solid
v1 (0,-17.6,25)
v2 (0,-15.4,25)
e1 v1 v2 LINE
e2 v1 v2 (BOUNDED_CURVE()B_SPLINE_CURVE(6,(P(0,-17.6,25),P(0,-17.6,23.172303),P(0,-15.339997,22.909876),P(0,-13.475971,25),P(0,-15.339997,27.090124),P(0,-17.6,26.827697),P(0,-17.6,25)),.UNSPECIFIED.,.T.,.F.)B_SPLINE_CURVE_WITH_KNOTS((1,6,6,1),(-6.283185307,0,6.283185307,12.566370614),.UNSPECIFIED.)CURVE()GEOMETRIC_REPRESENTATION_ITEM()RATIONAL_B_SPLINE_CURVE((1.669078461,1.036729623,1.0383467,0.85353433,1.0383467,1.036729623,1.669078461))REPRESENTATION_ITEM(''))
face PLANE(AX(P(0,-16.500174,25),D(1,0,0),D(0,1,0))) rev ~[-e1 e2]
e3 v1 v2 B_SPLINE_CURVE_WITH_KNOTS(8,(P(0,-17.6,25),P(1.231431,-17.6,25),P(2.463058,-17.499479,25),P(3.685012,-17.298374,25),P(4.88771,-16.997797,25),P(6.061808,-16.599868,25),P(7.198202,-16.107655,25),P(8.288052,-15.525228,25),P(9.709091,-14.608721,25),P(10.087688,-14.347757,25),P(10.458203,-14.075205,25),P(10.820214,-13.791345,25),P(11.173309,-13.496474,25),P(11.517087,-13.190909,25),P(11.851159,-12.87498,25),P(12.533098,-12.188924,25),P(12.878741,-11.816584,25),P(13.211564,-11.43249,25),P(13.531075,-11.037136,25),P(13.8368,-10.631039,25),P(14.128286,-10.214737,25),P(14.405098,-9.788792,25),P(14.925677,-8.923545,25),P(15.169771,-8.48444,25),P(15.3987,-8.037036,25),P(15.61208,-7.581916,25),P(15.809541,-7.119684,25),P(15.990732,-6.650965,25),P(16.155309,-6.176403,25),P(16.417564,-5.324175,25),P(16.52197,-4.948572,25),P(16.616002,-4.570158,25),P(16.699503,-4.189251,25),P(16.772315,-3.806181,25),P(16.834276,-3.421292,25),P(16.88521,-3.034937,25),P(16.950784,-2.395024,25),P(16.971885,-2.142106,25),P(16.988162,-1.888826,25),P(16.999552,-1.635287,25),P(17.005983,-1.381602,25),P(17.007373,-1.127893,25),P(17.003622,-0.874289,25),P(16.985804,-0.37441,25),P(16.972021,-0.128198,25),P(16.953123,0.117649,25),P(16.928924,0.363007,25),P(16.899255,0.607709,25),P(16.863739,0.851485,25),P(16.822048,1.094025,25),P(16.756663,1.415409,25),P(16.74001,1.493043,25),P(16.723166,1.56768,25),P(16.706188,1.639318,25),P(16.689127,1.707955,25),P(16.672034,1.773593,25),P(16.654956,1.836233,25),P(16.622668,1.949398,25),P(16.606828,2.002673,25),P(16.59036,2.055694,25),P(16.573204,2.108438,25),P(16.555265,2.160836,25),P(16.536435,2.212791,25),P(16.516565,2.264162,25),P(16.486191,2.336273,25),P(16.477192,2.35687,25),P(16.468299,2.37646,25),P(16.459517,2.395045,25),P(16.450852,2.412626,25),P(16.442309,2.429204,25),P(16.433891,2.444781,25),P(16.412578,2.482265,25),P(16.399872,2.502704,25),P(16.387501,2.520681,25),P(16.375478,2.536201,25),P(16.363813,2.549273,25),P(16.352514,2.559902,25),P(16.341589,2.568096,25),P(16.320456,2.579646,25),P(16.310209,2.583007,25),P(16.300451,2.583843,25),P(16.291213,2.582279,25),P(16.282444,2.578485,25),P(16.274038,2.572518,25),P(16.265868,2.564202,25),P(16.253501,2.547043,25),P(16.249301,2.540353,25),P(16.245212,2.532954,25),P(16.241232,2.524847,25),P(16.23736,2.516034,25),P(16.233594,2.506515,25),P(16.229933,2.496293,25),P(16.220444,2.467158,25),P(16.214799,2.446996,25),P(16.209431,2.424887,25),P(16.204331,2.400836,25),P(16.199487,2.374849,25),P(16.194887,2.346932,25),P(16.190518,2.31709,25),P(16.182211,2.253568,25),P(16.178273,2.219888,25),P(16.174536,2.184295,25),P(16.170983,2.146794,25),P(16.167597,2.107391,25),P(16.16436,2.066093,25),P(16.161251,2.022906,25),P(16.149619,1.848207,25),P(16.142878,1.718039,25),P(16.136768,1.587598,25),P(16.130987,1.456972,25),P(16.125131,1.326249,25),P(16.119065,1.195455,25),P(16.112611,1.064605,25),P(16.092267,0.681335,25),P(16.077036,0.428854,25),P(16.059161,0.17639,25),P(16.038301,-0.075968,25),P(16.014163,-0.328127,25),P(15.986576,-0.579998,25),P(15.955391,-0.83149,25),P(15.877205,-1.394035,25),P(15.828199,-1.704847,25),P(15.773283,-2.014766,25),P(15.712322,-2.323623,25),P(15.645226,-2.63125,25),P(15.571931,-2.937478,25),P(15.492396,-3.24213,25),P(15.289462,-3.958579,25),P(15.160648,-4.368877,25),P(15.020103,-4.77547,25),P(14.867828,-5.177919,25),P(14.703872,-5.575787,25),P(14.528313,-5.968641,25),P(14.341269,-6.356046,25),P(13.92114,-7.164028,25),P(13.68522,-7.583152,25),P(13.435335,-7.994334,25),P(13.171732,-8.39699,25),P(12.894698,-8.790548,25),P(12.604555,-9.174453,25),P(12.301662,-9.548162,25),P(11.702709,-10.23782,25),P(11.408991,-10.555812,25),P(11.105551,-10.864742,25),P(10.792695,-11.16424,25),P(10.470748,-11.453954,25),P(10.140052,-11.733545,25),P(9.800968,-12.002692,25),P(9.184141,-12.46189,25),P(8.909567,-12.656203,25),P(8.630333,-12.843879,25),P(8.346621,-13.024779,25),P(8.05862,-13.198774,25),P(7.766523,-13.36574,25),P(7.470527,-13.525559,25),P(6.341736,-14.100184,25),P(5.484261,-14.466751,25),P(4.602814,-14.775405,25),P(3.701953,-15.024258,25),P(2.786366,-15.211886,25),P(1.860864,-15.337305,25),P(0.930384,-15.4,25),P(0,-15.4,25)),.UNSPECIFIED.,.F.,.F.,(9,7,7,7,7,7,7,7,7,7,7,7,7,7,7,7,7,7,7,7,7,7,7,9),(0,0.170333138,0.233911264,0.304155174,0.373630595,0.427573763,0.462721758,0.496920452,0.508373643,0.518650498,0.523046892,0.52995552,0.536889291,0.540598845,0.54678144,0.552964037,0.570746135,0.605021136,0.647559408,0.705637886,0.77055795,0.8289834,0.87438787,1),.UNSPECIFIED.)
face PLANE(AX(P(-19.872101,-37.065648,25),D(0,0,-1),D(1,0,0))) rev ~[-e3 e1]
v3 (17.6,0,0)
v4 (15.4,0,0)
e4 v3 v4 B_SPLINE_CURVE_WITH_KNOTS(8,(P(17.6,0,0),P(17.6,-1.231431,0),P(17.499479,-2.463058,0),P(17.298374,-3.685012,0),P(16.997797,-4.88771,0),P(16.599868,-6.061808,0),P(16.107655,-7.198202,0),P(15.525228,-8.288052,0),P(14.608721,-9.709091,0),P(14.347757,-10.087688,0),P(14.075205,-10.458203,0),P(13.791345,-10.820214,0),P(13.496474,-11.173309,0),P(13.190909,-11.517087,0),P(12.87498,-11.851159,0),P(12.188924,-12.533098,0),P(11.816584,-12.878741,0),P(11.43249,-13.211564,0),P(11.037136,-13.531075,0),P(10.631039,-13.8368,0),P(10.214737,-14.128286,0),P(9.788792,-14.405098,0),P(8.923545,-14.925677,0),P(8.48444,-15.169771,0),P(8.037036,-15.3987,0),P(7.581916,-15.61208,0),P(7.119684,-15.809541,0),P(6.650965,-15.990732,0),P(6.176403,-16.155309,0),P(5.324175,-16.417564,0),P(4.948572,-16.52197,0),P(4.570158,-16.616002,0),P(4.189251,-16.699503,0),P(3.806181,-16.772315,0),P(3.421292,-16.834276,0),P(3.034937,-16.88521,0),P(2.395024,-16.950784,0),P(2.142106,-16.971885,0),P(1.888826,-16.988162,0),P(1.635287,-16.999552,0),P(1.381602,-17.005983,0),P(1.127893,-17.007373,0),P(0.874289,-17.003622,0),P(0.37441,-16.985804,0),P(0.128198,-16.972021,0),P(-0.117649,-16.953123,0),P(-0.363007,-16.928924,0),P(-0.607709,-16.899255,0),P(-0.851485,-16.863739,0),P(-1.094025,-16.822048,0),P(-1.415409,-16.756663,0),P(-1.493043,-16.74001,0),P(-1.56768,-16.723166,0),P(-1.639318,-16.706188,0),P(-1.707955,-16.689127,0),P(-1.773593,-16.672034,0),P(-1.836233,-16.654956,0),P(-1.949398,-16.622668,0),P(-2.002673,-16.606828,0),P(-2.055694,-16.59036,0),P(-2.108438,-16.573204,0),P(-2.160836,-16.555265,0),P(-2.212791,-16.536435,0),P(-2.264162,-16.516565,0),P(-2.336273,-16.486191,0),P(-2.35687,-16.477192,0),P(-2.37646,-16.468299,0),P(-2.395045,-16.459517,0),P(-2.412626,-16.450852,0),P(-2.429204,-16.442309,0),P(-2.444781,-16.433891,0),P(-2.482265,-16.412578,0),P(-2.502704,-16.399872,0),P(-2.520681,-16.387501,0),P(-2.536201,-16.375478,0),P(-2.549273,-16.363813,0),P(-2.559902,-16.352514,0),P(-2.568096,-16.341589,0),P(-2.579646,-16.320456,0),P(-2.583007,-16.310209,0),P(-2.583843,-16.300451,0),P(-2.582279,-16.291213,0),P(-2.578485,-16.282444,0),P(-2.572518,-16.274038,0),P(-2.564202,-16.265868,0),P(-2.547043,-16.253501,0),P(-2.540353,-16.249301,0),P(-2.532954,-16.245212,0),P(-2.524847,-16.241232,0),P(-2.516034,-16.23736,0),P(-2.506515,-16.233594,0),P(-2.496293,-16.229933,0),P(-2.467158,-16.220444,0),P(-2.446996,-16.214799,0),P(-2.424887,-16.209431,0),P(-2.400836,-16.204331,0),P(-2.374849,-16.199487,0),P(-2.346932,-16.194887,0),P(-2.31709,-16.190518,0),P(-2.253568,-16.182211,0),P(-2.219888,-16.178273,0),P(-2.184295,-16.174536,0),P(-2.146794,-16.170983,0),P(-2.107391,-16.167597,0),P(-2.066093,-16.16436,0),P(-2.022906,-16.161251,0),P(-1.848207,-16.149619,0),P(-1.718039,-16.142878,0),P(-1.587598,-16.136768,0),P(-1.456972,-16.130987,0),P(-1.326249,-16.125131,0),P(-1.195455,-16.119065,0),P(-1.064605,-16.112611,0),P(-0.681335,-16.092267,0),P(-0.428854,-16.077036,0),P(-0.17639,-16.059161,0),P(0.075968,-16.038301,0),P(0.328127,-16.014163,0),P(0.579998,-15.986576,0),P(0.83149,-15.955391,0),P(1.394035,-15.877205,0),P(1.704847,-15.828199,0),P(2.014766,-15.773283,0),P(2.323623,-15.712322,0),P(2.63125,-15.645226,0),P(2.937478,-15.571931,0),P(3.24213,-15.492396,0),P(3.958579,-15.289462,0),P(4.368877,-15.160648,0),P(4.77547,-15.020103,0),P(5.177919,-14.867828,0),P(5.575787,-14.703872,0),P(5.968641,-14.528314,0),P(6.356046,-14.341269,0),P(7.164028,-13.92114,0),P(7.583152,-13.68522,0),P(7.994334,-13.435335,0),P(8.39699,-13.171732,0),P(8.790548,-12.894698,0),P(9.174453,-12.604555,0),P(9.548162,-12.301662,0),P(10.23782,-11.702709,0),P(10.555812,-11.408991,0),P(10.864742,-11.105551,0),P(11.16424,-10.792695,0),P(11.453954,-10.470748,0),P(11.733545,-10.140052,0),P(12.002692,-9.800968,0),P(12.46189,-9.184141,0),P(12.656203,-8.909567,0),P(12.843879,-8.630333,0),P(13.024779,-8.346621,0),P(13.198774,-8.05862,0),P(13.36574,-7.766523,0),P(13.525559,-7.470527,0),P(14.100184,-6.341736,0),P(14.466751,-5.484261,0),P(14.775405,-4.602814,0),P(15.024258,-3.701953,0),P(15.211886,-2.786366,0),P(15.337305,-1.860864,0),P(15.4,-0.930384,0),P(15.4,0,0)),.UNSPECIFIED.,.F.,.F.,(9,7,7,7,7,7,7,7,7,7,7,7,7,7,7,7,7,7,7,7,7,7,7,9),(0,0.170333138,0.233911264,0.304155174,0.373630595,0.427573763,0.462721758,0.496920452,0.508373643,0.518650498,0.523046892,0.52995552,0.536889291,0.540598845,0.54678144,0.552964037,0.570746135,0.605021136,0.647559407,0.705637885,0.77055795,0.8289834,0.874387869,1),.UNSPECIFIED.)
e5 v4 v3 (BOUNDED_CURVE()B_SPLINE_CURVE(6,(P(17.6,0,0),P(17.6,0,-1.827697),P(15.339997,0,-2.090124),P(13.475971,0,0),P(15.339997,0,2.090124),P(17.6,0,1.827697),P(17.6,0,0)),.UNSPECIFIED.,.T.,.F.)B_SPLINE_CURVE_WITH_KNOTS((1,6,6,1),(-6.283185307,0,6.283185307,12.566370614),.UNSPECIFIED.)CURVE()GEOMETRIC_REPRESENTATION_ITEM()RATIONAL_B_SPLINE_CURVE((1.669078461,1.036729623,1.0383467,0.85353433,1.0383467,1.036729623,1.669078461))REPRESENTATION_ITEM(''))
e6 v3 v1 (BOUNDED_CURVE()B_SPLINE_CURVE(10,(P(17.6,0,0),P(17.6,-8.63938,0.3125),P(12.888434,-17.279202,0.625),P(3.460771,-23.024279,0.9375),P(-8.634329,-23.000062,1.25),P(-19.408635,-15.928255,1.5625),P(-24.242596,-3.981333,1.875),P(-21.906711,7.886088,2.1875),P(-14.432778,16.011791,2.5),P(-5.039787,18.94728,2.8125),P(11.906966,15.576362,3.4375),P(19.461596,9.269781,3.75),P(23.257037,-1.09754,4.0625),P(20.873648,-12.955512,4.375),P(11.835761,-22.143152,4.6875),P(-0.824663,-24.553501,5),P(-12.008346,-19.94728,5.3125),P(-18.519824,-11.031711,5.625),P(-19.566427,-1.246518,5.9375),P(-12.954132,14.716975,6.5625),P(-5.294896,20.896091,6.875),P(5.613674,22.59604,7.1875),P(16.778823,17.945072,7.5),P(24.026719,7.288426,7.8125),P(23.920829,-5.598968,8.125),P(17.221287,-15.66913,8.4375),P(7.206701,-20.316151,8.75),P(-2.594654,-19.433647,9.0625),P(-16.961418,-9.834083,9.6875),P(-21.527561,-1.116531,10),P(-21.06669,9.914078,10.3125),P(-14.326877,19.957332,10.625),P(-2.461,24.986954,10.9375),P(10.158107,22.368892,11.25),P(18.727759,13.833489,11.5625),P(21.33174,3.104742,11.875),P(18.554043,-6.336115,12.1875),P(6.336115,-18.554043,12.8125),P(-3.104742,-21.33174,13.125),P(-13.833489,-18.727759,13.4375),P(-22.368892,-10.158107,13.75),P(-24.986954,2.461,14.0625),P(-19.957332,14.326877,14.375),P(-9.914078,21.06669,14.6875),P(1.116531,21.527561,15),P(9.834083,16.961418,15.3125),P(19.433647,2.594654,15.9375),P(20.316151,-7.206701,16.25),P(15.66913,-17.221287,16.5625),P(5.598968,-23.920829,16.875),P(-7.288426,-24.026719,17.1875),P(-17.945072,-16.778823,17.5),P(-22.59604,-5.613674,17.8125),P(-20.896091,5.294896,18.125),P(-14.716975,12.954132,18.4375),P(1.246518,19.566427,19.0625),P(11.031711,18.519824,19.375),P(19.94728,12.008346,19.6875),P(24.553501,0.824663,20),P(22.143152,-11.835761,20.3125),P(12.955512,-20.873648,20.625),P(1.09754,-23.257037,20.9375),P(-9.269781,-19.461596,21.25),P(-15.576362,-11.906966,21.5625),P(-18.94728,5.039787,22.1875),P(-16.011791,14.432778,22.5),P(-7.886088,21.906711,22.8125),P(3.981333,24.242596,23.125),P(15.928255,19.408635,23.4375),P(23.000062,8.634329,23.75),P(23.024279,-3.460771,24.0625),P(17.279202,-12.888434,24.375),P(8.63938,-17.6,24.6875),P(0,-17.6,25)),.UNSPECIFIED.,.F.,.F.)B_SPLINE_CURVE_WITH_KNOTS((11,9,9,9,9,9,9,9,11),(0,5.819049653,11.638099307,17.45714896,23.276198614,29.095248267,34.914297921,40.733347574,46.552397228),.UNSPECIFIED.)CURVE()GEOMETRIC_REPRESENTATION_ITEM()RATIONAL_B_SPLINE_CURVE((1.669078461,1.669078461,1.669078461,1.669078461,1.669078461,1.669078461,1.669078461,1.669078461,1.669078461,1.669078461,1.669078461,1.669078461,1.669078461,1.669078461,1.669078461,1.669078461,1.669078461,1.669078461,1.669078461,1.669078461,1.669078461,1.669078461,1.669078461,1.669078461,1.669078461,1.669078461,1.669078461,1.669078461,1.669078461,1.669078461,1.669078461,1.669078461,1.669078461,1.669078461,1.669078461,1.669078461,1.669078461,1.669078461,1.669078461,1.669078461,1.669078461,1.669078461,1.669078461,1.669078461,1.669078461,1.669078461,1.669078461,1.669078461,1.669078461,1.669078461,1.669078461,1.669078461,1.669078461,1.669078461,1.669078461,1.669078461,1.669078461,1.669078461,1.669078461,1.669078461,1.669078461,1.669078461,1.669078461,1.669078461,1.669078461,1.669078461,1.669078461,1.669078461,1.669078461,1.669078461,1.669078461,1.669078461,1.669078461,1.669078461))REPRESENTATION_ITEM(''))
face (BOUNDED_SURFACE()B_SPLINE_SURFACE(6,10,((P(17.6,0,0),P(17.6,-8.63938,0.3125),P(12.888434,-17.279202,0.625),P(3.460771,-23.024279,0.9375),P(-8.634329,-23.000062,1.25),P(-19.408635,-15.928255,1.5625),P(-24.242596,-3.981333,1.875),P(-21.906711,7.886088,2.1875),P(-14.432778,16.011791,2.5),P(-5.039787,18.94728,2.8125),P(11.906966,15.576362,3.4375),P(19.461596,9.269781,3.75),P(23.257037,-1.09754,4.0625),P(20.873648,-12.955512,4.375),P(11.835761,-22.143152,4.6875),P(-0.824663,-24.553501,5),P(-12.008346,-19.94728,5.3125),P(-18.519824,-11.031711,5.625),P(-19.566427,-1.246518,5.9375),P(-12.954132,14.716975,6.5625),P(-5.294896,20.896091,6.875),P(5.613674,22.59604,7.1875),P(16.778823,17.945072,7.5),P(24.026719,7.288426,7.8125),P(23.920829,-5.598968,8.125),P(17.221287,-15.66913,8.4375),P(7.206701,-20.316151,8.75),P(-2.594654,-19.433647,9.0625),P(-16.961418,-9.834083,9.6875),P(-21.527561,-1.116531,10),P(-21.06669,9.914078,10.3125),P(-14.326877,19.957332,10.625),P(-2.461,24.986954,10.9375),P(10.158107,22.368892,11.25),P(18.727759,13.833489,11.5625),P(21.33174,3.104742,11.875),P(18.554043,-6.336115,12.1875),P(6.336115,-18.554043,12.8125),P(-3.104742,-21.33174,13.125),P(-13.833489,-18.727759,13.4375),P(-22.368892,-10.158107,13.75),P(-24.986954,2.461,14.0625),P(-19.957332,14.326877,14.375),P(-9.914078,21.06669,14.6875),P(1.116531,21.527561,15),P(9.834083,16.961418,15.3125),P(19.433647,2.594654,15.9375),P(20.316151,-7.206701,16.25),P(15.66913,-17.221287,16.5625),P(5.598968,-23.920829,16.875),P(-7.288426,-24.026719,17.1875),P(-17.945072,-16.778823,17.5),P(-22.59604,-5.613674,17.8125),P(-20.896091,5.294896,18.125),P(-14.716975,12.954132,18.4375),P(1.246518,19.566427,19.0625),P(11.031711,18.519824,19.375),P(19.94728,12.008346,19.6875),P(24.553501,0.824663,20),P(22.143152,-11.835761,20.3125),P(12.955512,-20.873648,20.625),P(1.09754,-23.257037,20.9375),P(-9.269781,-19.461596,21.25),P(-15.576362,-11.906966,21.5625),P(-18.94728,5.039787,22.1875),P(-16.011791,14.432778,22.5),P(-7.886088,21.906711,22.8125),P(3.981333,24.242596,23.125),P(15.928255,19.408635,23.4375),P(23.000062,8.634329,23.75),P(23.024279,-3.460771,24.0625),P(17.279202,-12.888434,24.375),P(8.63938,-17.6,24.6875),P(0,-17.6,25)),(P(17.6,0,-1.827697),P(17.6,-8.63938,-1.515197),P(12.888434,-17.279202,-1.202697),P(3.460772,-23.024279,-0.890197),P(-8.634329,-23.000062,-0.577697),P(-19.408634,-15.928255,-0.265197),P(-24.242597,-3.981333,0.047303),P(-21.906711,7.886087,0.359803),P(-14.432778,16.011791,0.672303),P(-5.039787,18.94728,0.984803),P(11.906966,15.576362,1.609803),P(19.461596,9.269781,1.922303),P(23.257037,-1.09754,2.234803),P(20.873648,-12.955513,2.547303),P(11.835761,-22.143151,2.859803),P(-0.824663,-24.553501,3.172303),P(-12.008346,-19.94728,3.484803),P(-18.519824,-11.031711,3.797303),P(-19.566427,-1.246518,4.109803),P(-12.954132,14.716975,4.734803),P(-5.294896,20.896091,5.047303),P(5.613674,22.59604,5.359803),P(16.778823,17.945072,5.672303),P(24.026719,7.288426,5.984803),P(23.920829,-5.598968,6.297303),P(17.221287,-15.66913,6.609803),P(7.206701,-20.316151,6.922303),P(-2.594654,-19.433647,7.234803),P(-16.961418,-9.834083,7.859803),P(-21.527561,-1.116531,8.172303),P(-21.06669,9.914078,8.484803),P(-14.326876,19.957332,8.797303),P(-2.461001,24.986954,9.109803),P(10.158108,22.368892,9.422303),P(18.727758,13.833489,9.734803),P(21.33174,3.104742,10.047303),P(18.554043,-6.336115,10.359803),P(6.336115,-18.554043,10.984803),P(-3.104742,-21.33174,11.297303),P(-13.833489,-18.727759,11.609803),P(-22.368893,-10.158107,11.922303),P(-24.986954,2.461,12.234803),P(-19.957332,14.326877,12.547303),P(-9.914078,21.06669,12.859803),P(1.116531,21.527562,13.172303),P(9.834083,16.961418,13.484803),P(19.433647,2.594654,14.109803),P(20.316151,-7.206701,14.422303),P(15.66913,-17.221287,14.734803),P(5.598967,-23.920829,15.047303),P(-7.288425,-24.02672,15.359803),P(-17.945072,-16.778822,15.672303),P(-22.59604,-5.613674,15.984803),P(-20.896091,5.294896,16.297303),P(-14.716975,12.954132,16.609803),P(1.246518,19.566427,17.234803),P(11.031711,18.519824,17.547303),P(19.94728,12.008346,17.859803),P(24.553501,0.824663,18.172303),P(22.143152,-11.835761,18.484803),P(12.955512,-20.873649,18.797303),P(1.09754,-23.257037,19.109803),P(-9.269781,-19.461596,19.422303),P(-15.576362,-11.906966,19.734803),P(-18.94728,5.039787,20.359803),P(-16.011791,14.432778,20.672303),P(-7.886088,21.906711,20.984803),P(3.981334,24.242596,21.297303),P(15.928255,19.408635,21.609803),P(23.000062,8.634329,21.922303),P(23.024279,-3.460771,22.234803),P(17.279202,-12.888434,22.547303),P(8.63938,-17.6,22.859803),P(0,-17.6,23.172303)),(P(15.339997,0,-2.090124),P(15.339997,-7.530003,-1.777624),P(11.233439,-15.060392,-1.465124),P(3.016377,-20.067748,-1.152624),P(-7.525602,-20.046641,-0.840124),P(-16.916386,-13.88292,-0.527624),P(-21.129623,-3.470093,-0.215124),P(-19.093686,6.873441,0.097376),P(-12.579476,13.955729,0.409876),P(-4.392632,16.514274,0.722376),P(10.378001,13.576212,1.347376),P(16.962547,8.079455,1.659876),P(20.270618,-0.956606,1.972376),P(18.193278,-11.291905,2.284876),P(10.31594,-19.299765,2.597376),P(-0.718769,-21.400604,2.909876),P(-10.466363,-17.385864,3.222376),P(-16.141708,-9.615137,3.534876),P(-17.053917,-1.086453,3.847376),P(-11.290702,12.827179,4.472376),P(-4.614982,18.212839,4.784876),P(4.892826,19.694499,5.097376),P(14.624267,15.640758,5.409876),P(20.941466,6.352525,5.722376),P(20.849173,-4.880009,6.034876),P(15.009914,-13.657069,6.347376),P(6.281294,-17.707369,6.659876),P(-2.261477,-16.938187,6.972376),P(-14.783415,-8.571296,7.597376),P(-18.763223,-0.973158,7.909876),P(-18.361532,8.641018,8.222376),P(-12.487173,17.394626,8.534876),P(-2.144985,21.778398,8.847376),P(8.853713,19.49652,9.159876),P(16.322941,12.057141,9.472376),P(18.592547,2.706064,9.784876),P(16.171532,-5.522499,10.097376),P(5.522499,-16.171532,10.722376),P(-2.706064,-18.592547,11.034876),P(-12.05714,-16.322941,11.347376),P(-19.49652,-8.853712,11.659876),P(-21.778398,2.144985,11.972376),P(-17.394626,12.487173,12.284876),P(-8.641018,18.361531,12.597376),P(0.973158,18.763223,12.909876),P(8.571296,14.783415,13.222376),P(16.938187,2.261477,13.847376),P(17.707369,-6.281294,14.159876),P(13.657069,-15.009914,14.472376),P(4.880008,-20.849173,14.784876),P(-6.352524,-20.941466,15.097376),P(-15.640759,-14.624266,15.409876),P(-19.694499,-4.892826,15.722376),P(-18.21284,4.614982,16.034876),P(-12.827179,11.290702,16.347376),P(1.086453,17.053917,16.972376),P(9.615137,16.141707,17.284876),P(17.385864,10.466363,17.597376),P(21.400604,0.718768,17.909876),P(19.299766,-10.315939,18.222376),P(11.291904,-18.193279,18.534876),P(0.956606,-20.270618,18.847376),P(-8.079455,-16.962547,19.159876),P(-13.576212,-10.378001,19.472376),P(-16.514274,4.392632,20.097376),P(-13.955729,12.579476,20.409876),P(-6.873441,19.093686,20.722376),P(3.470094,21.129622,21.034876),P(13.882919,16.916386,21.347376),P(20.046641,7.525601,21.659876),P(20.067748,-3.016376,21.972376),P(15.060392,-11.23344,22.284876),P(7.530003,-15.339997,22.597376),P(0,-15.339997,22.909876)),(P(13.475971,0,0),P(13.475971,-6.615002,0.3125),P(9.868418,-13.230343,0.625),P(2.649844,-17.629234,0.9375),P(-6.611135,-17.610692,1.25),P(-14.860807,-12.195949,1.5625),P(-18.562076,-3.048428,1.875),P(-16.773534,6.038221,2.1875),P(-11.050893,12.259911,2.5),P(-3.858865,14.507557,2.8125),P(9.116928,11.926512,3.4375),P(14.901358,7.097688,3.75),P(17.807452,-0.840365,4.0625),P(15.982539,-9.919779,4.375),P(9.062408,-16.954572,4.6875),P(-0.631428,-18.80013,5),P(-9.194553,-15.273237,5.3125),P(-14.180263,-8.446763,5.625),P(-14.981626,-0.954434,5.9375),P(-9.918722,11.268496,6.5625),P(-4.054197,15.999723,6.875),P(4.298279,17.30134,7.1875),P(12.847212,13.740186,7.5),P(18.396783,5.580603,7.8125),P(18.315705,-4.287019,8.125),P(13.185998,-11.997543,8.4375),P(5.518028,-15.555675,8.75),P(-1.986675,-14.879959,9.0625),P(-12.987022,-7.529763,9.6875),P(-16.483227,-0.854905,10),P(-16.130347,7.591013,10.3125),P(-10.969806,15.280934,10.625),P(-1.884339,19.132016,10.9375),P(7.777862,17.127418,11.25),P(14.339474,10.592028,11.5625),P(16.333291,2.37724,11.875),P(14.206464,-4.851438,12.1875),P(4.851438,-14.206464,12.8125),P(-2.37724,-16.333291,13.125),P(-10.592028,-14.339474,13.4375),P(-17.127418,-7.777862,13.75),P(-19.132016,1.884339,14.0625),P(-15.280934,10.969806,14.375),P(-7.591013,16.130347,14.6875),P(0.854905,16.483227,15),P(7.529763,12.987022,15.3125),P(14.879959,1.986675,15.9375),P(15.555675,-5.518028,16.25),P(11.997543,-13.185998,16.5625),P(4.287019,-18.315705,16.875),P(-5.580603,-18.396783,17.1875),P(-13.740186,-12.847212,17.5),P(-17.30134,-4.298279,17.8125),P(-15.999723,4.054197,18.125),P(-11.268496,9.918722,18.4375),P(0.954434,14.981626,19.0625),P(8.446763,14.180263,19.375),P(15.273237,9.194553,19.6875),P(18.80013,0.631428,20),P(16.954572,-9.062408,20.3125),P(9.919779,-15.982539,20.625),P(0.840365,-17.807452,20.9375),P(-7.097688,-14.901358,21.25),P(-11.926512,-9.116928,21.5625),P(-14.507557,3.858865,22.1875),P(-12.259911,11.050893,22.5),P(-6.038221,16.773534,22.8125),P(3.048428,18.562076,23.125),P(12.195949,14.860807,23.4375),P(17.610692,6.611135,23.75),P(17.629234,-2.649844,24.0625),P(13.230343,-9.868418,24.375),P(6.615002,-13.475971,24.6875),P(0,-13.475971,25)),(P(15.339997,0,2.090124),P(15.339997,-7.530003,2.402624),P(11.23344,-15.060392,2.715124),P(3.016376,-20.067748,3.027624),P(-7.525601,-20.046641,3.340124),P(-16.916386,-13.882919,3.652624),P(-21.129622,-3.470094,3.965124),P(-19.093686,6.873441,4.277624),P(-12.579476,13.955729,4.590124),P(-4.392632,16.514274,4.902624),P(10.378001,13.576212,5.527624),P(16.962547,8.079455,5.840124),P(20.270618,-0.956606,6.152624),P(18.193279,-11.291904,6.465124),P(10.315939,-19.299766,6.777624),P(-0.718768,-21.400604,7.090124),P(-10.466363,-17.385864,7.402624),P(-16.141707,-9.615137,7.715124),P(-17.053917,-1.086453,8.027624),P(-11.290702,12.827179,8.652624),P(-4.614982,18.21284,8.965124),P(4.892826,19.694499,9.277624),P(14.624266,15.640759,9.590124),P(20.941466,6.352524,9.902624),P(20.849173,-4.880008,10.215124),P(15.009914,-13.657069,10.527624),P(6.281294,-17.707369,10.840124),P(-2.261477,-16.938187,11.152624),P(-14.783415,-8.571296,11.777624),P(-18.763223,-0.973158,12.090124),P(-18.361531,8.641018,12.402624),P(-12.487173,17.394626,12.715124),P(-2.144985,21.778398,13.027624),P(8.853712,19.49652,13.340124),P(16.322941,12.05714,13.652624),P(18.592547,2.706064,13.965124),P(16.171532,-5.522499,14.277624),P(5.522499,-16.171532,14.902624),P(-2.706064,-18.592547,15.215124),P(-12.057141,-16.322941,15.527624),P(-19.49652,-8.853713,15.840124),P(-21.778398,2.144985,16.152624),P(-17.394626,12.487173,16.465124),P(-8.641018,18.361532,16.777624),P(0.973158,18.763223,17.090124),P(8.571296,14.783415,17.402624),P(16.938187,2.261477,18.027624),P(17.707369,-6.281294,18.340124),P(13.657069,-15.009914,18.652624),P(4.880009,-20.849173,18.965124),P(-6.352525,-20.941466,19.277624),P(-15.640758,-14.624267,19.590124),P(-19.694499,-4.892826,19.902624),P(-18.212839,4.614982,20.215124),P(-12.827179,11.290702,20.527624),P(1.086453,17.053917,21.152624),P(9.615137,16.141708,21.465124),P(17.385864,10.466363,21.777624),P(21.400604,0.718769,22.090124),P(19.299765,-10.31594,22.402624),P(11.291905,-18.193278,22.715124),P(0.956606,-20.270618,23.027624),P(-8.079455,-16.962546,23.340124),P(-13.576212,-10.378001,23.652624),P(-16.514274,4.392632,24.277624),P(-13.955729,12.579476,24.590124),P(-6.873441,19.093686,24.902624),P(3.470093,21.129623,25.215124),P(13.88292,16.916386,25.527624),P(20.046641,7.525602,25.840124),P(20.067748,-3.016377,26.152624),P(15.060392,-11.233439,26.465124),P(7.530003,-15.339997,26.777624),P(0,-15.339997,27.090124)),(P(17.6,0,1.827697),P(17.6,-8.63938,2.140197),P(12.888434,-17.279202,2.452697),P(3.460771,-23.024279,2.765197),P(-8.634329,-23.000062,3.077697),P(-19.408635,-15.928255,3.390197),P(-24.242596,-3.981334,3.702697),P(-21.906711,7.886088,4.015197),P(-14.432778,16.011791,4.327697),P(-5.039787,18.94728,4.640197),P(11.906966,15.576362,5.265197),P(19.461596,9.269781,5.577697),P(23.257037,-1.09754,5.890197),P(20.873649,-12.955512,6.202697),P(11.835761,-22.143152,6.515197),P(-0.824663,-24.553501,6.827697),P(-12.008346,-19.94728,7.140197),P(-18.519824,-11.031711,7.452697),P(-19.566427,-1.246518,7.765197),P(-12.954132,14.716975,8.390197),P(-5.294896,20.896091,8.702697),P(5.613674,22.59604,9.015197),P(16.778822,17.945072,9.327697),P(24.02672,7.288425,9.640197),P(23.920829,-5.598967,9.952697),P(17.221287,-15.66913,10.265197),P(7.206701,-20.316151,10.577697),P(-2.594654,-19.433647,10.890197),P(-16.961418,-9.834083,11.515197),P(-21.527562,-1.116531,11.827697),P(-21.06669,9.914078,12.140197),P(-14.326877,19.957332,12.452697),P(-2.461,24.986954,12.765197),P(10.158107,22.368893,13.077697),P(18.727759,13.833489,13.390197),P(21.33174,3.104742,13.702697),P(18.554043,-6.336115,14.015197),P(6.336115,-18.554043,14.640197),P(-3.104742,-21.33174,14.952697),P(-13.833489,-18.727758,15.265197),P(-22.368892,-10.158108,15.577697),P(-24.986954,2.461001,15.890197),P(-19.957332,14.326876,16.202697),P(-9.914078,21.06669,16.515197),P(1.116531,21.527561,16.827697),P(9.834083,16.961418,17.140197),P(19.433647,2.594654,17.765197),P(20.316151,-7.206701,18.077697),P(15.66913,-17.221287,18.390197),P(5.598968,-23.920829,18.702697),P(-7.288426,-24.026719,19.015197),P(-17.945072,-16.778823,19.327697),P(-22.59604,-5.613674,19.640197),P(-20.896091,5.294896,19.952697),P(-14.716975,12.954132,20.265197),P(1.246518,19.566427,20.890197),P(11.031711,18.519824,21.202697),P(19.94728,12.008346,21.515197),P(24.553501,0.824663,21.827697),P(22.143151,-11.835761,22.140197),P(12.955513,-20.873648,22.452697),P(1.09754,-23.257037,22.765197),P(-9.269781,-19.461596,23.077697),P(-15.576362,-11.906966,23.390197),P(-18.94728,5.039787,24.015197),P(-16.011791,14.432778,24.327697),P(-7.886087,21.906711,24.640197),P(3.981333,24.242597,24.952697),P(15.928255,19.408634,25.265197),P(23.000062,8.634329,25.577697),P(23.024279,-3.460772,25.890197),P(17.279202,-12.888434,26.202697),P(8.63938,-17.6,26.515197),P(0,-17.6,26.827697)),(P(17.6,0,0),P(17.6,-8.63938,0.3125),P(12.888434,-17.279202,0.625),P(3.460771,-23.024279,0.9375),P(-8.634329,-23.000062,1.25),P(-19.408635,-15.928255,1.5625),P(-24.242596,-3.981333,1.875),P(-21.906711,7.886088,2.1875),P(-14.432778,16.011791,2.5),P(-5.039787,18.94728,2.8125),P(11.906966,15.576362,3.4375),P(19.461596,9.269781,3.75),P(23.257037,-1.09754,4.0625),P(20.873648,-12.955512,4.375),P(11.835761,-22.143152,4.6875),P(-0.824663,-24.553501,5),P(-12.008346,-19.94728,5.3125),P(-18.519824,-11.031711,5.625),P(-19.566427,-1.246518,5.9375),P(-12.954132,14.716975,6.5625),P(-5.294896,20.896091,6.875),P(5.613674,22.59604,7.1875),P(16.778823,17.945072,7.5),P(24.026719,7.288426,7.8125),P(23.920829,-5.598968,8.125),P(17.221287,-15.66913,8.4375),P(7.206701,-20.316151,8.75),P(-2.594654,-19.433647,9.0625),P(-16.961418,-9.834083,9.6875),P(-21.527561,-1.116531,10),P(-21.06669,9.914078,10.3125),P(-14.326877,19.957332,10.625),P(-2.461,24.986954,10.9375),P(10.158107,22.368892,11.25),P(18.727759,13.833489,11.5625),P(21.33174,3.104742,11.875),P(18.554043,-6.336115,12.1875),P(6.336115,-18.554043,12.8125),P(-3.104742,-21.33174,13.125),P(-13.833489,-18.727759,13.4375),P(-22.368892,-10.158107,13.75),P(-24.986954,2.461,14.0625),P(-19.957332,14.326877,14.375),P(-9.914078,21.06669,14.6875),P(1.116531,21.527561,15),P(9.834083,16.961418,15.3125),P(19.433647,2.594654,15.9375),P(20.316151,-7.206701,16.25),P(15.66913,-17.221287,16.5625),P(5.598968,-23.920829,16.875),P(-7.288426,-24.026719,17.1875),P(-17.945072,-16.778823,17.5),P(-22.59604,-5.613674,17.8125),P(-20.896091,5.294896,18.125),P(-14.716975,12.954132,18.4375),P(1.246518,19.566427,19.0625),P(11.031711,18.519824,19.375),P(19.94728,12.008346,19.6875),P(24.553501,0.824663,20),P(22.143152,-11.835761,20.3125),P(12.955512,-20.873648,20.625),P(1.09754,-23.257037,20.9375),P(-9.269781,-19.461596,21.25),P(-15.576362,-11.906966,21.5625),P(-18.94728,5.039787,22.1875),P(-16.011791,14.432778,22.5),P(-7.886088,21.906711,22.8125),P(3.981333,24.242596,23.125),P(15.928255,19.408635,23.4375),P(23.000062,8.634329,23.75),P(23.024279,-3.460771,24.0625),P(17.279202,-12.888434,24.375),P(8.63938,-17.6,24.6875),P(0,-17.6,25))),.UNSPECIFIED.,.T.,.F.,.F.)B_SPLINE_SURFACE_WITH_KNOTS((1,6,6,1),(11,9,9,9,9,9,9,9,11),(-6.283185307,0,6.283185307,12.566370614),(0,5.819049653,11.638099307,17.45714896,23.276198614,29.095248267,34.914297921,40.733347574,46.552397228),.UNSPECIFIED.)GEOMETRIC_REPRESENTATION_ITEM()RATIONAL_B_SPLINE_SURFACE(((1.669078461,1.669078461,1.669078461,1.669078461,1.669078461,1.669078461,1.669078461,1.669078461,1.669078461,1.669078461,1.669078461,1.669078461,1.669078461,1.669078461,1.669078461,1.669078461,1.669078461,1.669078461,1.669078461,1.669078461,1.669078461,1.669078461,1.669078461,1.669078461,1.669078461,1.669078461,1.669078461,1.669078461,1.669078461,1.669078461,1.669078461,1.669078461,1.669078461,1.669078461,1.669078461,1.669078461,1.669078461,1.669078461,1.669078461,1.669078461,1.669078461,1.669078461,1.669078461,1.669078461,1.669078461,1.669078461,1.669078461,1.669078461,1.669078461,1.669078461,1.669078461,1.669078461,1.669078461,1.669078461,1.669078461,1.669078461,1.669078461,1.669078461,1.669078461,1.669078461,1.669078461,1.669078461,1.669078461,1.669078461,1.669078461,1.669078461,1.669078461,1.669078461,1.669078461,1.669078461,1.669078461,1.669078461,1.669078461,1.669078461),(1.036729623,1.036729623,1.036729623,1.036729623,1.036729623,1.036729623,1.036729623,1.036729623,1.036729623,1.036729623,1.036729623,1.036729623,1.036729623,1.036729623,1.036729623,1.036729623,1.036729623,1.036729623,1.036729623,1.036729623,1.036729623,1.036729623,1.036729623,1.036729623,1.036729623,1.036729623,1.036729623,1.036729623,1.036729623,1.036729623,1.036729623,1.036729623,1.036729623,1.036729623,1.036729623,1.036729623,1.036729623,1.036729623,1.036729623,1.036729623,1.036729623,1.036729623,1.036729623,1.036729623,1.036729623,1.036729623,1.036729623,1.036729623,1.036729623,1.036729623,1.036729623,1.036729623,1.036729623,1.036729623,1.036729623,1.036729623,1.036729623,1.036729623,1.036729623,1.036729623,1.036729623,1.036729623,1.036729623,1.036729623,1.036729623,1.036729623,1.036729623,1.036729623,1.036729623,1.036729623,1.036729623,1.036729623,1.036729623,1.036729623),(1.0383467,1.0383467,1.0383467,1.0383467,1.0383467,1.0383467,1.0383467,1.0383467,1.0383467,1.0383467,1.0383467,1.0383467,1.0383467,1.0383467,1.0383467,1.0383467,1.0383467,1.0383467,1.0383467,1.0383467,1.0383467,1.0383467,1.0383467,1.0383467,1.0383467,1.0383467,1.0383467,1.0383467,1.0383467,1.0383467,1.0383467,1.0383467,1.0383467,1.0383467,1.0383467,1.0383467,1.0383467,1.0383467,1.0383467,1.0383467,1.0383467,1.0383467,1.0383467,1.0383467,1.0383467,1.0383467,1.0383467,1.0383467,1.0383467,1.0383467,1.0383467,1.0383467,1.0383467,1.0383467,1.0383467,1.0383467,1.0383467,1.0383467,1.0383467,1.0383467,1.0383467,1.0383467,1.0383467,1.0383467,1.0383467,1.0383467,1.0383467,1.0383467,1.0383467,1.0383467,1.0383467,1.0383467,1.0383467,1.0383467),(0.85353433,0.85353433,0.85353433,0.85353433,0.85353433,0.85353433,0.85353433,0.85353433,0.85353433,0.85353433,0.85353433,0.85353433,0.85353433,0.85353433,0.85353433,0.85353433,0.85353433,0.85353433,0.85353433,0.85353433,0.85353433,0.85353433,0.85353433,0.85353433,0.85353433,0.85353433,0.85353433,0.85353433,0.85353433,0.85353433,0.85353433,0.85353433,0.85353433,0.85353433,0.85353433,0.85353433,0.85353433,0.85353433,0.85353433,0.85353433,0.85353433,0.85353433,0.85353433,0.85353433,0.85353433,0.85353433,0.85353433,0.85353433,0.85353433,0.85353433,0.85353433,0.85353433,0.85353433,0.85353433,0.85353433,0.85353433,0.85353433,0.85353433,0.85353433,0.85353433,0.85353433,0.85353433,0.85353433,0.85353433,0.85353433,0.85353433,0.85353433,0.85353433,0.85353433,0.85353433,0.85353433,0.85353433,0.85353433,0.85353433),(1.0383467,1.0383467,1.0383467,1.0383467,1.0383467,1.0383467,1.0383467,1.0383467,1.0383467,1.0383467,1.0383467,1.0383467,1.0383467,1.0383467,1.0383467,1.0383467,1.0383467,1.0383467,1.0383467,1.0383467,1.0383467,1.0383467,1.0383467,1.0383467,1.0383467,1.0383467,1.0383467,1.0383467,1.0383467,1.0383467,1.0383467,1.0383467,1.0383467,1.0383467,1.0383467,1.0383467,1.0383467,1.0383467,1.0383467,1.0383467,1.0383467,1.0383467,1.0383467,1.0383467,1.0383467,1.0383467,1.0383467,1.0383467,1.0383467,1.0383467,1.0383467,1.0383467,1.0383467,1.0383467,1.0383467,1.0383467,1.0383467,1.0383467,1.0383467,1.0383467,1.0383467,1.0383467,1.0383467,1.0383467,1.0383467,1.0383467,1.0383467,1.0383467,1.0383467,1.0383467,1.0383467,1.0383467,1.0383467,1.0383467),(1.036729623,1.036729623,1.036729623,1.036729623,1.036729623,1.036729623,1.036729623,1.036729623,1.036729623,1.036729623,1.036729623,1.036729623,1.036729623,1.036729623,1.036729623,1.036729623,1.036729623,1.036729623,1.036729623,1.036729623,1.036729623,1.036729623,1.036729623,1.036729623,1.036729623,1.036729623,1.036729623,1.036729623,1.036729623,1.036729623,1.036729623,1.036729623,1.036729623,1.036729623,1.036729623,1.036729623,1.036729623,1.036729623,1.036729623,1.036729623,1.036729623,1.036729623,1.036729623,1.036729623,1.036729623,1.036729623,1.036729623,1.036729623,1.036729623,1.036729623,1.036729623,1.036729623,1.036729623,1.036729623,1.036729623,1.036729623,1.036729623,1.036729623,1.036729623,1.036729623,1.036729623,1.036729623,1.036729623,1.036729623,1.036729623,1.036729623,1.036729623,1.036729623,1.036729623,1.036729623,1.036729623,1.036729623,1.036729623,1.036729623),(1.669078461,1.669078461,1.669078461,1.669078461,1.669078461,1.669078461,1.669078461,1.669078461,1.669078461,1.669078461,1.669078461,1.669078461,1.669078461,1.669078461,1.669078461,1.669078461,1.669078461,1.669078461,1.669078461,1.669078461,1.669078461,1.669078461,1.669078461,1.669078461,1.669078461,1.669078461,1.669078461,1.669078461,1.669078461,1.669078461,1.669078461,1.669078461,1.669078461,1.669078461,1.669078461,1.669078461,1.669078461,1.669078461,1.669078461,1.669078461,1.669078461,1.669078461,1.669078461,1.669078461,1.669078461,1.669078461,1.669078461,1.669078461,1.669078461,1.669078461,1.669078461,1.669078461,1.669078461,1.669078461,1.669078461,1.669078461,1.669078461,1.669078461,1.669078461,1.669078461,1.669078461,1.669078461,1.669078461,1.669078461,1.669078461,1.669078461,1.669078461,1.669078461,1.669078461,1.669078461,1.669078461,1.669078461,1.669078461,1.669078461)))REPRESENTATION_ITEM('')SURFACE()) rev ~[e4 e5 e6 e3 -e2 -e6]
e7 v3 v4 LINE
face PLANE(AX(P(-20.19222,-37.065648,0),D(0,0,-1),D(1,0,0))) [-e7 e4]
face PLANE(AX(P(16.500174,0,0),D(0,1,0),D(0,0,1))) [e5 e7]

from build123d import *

# Parameters (mm, degrees)
SWEEP1_PITCH            = 4
SWEEP1_HEIGHT           = 25
SWEEP1_RADIUS           = 16.5
SKETCH2_R               = 1.1
CUT_EXTRUDE1_DEPTH      = 37.065647703
CUT_EXTRUDE1_DEPTH_BACK = 37.065647703
SKETCH3_W               = 43.987406561
SKETCH3_H               = 3.768960992
SKETCH3_W_2             = 42.086994639
SKETCH3_H_2             = 3.071981074


with BuildPart() as part:
    # Sweep1: sweep along a helix
    with BuildLine() as sweep1_path:
        Helix(SWEEP1_PITCH, SWEEP1_HEIGHT, SWEEP1_RADIUS, center=(0, 0, 0), direction=(0, 0, 1), lefthand=True)
    # Sketch2 → Sweep1 (sweep)
    with BuildSketch(Plane(origin=(0, 0, 0), x_dir=(1, 0, 0), z_dir=(0, 1, 0))):
        with Locations((16.5, 0)):
            Circle(SKETCH2_R)
    sweep(path=sweep1_path.line, is_frenet=True)

    # Sketch3 → Cut-Extrude1 (cut, two sides: drawn at the far end of the back side and taken through both)
    with BuildSketch(Plane(origin=(0, 0, 0), x_dir=(1, 0, 0), z_dir=(0, 1, 0)).offset(-CUT_EXTRUDE1_DEPTH_BACK)):
        with Locations((1.801483593, 1.884480496)):
            Rectangle(SKETCH3_W, SKETCH3_H)
        with Locations((1.171396328, -26.535990537)):
            Rectangle(SKETCH3_W_2, SKETCH3_H_2)
    extrude(amount=CUT_EXTRUDE1_DEPTH + CUT_EXTRUDE1_DEPTH_BACK, mode=Mode.SUBTRACT)


solid = part.part
